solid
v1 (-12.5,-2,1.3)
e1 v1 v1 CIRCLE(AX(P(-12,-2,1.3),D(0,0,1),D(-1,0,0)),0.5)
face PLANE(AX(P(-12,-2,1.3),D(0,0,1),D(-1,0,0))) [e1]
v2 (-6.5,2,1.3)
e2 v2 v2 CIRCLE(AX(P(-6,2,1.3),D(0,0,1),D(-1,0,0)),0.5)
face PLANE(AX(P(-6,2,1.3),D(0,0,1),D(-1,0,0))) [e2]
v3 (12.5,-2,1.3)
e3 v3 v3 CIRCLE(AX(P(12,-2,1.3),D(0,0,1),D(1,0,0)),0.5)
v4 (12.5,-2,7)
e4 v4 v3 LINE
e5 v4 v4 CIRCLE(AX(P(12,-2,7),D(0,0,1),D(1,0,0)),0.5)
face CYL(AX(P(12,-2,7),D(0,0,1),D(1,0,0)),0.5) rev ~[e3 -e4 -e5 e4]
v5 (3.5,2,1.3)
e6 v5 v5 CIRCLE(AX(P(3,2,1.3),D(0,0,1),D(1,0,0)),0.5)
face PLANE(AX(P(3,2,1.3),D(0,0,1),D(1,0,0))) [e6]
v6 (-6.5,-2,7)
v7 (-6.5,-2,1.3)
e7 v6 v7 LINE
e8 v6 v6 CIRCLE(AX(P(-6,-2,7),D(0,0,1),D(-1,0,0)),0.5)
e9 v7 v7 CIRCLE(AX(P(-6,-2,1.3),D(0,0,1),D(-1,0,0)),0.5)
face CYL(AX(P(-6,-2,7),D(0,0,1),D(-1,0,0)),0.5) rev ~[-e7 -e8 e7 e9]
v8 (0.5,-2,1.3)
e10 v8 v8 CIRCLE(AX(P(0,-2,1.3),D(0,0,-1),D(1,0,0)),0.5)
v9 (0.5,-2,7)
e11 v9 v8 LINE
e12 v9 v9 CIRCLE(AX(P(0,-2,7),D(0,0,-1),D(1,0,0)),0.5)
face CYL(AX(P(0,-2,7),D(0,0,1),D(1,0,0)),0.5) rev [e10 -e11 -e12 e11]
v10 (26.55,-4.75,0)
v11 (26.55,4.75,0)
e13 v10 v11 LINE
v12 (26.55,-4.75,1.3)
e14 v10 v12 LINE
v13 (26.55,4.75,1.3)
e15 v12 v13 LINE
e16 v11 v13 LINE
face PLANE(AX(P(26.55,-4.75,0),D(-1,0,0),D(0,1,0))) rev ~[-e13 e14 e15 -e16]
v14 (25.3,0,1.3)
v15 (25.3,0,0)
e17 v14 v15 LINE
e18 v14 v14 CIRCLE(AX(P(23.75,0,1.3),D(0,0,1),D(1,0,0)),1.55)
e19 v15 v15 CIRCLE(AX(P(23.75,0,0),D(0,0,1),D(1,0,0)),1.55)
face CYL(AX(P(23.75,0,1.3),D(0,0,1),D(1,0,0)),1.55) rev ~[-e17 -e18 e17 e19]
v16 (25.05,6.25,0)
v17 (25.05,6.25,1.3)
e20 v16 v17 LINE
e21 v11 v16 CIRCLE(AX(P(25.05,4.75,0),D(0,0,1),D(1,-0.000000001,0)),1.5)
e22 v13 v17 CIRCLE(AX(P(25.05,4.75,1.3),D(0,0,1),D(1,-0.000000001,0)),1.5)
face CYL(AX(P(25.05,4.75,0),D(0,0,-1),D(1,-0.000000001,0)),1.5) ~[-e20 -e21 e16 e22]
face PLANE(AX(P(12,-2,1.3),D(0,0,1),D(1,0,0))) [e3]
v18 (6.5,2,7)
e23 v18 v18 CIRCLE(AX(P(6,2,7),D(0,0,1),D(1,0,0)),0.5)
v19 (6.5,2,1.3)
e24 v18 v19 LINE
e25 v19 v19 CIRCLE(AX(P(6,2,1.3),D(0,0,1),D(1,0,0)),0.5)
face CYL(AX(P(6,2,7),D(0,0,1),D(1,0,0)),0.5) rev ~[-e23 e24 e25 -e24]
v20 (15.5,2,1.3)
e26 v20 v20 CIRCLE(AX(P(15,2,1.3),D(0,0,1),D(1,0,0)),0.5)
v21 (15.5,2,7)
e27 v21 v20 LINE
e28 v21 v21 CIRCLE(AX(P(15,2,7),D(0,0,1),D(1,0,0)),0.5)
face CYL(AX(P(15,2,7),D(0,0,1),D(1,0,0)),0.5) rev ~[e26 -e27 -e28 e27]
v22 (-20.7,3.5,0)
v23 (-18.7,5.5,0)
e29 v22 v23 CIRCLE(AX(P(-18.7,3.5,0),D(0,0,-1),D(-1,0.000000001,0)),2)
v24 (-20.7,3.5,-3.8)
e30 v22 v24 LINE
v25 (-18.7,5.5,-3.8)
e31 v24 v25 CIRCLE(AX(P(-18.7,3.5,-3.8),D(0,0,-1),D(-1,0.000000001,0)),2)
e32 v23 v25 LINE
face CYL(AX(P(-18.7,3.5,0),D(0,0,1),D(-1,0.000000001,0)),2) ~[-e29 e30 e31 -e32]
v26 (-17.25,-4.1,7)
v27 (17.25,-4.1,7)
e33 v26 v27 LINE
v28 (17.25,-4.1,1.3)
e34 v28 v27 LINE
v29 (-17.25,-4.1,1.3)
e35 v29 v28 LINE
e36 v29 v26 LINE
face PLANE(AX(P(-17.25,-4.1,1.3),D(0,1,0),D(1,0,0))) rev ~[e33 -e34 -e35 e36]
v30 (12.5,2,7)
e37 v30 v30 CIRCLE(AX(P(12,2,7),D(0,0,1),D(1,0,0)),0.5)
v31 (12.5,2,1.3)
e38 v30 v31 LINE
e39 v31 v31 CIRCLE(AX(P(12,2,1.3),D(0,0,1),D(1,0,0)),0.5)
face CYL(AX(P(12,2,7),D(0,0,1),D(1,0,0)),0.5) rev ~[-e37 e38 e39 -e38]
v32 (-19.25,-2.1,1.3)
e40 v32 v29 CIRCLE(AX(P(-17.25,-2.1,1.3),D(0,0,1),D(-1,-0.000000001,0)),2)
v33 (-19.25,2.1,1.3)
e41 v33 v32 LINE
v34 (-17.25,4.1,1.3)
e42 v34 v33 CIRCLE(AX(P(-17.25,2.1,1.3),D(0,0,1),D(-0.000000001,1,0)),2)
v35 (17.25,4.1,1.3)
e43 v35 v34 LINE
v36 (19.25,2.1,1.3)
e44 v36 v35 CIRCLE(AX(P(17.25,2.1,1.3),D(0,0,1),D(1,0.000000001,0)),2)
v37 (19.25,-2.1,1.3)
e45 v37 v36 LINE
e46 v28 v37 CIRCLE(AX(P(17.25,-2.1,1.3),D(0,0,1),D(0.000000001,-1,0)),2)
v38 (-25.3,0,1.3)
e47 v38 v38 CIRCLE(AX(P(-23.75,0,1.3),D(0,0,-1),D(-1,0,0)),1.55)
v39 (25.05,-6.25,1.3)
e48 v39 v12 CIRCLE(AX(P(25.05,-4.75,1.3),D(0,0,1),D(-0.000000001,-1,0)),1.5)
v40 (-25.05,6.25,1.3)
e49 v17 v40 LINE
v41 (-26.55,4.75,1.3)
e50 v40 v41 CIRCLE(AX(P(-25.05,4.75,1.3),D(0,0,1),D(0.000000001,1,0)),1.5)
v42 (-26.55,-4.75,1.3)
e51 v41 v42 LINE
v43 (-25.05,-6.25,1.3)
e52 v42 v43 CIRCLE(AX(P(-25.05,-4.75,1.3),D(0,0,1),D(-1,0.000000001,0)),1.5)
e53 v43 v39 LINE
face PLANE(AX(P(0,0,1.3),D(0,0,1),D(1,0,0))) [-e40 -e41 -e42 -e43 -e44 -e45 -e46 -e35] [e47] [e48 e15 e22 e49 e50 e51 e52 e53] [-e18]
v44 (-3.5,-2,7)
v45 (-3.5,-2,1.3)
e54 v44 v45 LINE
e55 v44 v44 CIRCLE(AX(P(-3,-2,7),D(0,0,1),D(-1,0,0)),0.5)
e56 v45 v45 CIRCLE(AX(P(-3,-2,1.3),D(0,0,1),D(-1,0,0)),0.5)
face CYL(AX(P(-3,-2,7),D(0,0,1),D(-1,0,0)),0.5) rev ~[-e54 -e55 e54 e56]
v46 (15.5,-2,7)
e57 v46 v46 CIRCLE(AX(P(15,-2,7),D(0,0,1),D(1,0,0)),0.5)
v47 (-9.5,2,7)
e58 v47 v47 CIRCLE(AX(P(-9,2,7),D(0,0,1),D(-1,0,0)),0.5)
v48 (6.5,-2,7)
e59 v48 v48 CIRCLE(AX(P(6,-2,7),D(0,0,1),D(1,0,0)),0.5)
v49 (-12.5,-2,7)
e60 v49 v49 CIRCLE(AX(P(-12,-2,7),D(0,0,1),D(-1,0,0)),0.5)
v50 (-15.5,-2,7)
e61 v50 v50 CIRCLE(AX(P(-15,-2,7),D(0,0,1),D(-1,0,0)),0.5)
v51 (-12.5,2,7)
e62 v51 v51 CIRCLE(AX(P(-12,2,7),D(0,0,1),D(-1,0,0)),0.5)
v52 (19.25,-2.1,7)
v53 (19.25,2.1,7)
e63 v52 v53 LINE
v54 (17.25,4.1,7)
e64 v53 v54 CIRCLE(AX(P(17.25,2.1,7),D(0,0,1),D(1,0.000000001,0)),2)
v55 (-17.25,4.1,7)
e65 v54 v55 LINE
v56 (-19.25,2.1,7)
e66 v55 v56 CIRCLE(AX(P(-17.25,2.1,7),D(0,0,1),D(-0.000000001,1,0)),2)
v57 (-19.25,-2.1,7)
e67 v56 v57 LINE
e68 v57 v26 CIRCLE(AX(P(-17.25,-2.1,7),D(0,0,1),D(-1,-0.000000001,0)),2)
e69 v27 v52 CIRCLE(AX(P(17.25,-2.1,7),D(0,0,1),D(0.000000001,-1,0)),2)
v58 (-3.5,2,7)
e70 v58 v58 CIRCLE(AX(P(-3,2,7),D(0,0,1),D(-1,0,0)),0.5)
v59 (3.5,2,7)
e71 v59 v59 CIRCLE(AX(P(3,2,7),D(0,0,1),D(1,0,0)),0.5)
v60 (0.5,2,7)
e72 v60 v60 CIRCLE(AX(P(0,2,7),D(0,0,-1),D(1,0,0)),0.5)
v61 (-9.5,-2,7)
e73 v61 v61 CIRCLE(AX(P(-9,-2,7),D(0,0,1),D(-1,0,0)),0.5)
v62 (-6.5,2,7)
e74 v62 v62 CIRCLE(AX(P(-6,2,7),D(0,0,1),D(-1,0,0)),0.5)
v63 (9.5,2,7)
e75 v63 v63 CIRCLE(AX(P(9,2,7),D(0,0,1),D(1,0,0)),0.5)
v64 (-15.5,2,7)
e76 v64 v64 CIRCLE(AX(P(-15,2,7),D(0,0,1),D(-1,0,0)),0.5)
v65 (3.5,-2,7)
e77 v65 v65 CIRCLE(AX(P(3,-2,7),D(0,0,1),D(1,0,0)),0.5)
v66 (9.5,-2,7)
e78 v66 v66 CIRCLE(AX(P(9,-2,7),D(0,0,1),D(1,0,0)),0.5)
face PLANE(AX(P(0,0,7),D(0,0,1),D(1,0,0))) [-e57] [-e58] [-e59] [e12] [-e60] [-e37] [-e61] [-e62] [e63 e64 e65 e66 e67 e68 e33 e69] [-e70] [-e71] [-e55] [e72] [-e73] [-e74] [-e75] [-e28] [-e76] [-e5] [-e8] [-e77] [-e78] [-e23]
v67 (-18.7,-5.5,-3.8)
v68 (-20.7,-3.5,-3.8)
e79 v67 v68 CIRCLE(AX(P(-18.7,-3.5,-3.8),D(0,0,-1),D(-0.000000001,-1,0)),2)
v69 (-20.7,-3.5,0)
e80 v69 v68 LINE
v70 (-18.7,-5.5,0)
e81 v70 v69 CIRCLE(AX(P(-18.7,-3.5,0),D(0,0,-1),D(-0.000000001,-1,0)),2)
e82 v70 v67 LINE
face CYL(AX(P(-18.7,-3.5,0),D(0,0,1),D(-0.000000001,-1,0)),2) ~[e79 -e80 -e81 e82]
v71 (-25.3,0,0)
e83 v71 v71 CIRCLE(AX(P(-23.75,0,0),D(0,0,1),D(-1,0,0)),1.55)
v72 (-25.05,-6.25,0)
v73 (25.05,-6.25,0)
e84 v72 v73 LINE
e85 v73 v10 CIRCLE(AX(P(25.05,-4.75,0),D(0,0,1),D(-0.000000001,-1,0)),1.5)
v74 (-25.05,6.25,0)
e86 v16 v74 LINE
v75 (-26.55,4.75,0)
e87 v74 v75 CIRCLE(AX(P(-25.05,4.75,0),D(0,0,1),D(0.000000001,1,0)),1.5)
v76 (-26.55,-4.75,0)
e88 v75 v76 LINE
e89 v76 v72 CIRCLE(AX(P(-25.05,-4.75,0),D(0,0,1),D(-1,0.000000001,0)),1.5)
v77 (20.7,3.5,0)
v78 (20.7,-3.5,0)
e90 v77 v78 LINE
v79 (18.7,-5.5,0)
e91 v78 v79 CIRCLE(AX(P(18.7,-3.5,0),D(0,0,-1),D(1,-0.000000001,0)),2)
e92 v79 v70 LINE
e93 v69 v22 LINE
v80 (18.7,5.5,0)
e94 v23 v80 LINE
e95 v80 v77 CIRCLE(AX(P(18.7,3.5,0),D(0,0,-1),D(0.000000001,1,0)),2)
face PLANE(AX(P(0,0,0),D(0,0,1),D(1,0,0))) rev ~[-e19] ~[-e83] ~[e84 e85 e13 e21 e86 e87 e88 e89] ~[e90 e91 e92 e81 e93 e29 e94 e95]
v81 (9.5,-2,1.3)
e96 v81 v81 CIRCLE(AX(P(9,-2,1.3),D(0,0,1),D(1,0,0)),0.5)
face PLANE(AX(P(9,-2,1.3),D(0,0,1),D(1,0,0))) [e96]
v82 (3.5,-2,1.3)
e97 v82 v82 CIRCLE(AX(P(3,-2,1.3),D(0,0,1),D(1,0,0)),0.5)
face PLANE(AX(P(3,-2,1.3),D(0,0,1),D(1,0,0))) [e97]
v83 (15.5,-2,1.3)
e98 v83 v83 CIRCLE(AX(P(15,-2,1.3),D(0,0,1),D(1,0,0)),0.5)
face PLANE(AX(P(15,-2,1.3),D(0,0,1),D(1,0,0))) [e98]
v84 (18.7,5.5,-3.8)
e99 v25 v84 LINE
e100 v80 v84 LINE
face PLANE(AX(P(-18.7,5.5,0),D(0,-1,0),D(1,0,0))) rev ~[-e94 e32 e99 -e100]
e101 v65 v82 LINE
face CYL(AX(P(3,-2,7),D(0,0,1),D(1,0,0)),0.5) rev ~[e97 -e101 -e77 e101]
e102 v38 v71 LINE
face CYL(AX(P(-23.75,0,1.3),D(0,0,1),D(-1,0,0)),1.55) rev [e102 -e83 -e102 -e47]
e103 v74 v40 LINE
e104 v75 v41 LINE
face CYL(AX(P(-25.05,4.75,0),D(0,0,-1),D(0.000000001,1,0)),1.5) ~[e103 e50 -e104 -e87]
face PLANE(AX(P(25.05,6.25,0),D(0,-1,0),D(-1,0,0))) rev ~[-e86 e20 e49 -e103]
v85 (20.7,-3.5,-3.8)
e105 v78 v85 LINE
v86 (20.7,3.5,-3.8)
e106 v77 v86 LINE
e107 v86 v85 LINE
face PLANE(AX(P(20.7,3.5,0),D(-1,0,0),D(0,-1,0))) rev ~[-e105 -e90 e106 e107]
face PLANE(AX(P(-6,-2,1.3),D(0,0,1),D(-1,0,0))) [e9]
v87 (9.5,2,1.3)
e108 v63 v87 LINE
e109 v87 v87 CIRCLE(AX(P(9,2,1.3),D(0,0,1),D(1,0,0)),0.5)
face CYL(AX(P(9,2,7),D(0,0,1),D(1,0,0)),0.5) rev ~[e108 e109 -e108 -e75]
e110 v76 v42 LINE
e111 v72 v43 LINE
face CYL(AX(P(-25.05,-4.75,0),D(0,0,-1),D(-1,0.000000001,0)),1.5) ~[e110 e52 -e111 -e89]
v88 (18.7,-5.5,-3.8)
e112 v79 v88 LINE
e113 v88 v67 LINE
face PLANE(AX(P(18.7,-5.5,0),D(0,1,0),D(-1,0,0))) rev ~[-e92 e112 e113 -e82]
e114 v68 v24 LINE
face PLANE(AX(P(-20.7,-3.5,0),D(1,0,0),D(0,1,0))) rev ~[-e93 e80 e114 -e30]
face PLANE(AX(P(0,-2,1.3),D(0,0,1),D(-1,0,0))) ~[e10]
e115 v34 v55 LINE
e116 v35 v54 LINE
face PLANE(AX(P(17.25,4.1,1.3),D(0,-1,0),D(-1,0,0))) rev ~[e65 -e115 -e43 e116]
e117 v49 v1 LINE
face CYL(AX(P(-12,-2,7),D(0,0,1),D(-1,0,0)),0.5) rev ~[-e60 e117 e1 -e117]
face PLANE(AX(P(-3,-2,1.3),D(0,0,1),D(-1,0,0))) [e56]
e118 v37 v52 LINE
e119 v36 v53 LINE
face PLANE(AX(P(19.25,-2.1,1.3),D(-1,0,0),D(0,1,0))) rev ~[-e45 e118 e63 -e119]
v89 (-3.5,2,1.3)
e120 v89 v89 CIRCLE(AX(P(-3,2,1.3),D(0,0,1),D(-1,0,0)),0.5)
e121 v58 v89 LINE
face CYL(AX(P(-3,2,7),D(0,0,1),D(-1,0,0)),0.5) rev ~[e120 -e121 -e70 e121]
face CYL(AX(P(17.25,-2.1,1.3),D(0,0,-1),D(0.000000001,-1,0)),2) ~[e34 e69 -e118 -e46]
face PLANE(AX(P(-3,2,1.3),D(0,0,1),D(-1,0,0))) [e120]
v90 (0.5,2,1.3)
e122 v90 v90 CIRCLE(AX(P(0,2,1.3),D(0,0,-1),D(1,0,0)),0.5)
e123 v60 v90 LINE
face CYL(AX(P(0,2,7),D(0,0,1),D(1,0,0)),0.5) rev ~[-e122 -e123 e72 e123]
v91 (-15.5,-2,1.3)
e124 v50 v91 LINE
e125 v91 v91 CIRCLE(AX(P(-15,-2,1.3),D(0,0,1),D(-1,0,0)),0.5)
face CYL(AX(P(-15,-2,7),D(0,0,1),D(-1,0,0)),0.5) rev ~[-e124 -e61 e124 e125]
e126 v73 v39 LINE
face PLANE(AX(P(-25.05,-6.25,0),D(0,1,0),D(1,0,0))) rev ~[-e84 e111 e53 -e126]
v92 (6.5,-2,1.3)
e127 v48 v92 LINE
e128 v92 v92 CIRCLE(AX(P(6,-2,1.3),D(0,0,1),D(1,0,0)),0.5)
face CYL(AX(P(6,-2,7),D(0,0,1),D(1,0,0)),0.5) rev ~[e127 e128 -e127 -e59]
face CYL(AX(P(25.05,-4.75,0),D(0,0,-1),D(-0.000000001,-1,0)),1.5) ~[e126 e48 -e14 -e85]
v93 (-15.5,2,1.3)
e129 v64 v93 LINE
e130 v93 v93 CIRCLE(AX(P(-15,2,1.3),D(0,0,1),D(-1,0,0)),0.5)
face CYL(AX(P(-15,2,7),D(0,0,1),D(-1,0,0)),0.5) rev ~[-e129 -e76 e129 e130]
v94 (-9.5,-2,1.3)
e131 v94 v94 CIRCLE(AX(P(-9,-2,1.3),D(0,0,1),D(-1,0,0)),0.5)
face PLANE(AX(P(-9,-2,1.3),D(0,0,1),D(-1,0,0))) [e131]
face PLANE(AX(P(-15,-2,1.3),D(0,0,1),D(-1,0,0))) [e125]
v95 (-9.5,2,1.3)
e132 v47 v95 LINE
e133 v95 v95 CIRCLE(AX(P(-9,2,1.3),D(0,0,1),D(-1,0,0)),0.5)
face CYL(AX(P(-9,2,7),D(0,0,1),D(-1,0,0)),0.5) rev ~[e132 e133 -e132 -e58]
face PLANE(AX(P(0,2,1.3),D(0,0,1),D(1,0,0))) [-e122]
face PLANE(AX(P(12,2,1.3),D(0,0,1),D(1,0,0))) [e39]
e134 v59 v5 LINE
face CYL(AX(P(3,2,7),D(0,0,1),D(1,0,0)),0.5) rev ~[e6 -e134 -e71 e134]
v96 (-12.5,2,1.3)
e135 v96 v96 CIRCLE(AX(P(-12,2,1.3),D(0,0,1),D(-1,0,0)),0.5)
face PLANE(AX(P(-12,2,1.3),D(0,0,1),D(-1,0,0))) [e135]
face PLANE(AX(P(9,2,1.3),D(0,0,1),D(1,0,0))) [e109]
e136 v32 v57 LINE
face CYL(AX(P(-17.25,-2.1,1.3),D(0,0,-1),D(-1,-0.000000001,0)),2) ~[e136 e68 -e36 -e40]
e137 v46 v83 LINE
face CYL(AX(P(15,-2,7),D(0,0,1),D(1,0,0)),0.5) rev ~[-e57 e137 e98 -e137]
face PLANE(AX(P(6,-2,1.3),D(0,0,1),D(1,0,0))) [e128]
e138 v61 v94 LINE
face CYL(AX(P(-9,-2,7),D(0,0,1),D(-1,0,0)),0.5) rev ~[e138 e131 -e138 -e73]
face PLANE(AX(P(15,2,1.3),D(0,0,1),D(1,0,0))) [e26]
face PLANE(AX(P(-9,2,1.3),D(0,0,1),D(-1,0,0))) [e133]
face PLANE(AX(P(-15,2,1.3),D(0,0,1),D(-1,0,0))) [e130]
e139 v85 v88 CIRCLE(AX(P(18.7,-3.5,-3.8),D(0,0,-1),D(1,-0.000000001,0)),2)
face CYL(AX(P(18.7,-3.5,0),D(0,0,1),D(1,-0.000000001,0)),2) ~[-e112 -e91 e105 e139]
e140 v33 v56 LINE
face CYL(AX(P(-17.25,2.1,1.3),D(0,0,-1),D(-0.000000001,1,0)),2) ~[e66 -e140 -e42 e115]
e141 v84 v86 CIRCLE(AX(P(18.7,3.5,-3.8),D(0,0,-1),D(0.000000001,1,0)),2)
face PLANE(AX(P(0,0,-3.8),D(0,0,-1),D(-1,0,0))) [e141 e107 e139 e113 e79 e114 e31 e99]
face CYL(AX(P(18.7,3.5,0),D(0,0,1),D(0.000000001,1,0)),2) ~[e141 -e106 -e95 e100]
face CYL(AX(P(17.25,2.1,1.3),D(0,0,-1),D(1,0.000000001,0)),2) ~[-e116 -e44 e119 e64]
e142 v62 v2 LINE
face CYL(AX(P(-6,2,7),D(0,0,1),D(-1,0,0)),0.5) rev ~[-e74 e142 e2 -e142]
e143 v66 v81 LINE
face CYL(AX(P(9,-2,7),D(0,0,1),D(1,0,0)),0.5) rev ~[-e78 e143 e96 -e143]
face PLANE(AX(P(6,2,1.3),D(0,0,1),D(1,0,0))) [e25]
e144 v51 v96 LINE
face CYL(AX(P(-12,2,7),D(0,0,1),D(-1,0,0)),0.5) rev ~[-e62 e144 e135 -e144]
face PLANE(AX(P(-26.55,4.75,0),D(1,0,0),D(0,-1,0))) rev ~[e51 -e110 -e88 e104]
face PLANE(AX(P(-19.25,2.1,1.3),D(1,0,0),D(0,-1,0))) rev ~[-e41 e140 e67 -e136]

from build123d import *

# Parameters (mm, degrees)
BOSS_EXTRUDE1_DEPTH      = 1.3
BOSS_EXTRUDE2_DEPTH      = 3.8
BOSS_EXTRUDE3_DEPTH      = 5.7
SKETCH4_R                = 0.5
CUT_EXTRUDE1_DEPTH       = 5.7
LPATTERN1_COUNT          = 6
LPATTERN1_PITCH          = 3
MIRROR1_COPY_1_SKETCH_R  = 0.5
MIRROR1_COPY_1_DEPTH     = 5.7
MIRROR1_COPY_2_SKETCH_R  = 0.5
MIRROR1_COPY_2_DEPTH     = 5.7
MIRROR1_COPY_3_SKETCH_R  = 0.5
MIRROR1_COPY_3_DEPTH     = 5.7
MIRROR1_COPY_4_SKETCH_R  = 0.5
MIRROR1_COPY_4_DEPTH     = 5.7
MIRROR1_COPY_5_SKETCH_R  = 0.5
MIRROR1_COPY_5_DEPTH     = 5.7
MIRROR2_COPY_1_SKETCH_R  = 0.5
MIRROR2_COPY_1_DEPTH     = 5.7
MIRROR2_COPY_2_SKETCH_R  = 0.5
MIRROR2_COPY_2_DEPTH     = 5.7
MIRROR2_COPY_3_SKETCH_R  = 0.5
MIRROR2_COPY_3_DEPTH     = 5.7
MIRROR2_COPY_4_SKETCH_R  = 0.5
MIRROR2_COPY_4_DEPTH     = 5.7
MIRROR2_COPY_5_SKETCH_R  = 0.5
MIRROR2_COPY_5_DEPTH     = 5.7
MIRROR2_COPY_6_SKETCH_R  = 0.5
MIRROR2_COPY_6_DEPTH     = 5.7
MIRROR2_COPY_7_SKETCH_R  = 0.5
MIRROR2_COPY_7_DEPTH     = 5.7
MIRROR2_COPY_8_SKETCH_R  = 0.5
MIRROR2_COPY_8_DEPTH     = 5.7
MIRROR2_COPY_9_SKETCH_R  = 0.5
MIRROR2_COPY_9_DEPTH     = 5.7
MIRROR2_COPY_10_SKETCH_R = 0.5
MIRROR2_COPY_10_DEPTH    = 5.7
MIRROR2_COPY_11_SKETCH_R = 0.5
MIRROR2_COPY_11_DEPTH    = 5.7
MIRROR2_COPY_12_SKETCH_R = 0.5
MIRROR2_COPY_12_DEPTH    = 5.7
MIRROR2_COPY_13_SKETCH_R = 0.5
MIRROR2_COPY_13_DEPTH    = 5.7
SKETCH5_R                = 1.55
CUT_EXTRUDE2_DEPTH       = 28.864942132


with BuildPart() as part:
    # Sketch1 → Boss-Extrude1 (new body)
    with BuildSketch(Plane.XY):
        with BuildLine():
            Line((-25.05, -6.25), (25.05, -6.25))
            ThreePointArc((25.05, -6.25), (26.110660172, -5.810660172), (26.55, -4.75))
            Line((26.55, -4.75), (26.55, 4.75))
            ThreePointArc((26.55, 4.75), (26.110660172, 5.810660172), (25.05, 6.25))
            Line((25.05, 6.25), (-25.05, 6.25))
            ThreePointArc((-25.05, 6.25), (-26.110660172, 5.810660172), (-26.55, 4.75))
            Line((-26.55, 4.75), (-26.55, -4.75))
            ThreePointArc((-26.55, -4.75), (-26.110660172, -5.810660172), (-25.05, -6.25))
        make_face()
    extrude(amount=BOSS_EXTRUDE1_DEPTH)

    # Sketch2 → Boss-Extrude2 (add)
    with BuildSketch(Plane(origin=(0, 0, 0), x_dir=(-1, 0, 0), z_dir=(0, 0, -1))):
        with BuildLine():
            Line((-18.7, -5.5), (18.7, -5.5))
            ThreePointArc((18.7, -5.5), (20.114213562, -4.914213562), (20.7, -3.5))
            Line((20.7, -3.5), (20.7, 3.5))
            ThreePointArc((20.7, 3.5), (20.114213562, 4.914213562), (18.7, 5.5))
            Line((18.7, 5.5), (-18.7, 5.5))
            ThreePointArc((-18.7, 5.5), (-20.114213562, 4.914213562), (-20.7, 3.5))
            Line((-20.7, 3.5), (-20.7, -3.5))
            ThreePointArc((-20.7, -3.5), (-20.114213562, -4.914213562), (-18.7, -5.5))
        make_face()
    extrude(amount=BOSS_EXTRUDE2_DEPTH)

    # Sketch3 → Boss-Extrude3 (add)
    with BuildSketch(Plane.XY.offset(1.3)):
        with BuildLine():
            Line((-17.25, -4.1), (17.25, -4.1))
            ThreePointArc((17.25, -4.1), (18.664213562, -3.514213562), (19.25, -2.1))
            Line((19.25, -2.1), (19.25, 2.1))
            ThreePointArc((19.25, 2.1), (18.664213562, 3.514213562), (17.25, 4.1))
            Line((17.25, 4.1), (-17.25, 4.1))
            ThreePointArc((-17.25, 4.1), (-18.664213562, 3.514213562), (-19.25, 2.1))
            Line((-19.25, 2.1), (-19.25, -2.1))
            ThreePointArc((-19.25, -2.1), (-18.664213562, -3.514213562), (-17.25, -4.1))
        make_face()
    extrude(amount=BOSS_EXTRUDE3_DEPTH)

    # Sketch4 → Cut-Extrude1 (cut)
    with BuildSketch(Plane.XY.offset(7)):
        with Locations((0, 2)):
            Circle(SKETCH4_R)
    cut_extrude1 = extrude(amount=-CUT_EXTRUDE1_DEPTH, mode=Mode.SUBTRACT)

    # LPattern1: Cut-Extrude1 ×6
    with Locations(*[(i * LPATTERN1_PITCH, 0, 0) for i in range(1, LPATTERN1_COUNT)]):
        add(cut_extrude1, mode=Mode.SUBTRACT)

    # Mirror1: Cut-Extrude1 across plane
    add(cut_extrude1.mirror(Plane.ZX), mode=Mode.SUBTRACT)

    # Mirror1 copy 1 sketch → Mirror1 copy 1 (cut)
    with BuildSketch(Plane(origin=(3, 0, 7), x_dir=(1, 0, 0), z_dir=(0, 0, 1))):
        with Locations((0, -2)):
            Circle(MIRROR1_COPY_1_SKETCH_R)
    extrude(amount=-MIRROR1_COPY_1_DEPTH, mode=Mode.SUBTRACT)

    # Mirror1 copy 2 sketch → Mirror1 copy 2 (cut)
    with BuildSketch(Plane(origin=(6, 0, 7), x_dir=(1, 0, 0), z_dir=(0, 0, 1))):
        with Locations((0, -2)):
            Circle(MIRROR1_COPY_2_SKETCH_R)
    extrude(amount=-MIRROR1_COPY_2_DEPTH, mode=Mode.SUBTRACT)

    # Mirror1 copy 3 sketch → Mirror1 copy 3 (cut)
    with BuildSketch(Plane(origin=(9, 0, 7), x_dir=(1, 0, 0), z_dir=(0, 0, 1))):
        with Locations((0, -2)):
            Circle(MIRROR1_COPY_3_SKETCH_R)
    extrude(amount=-MIRROR1_COPY_3_DEPTH, mode=Mode.SUBTRACT)

    # Mirror1 copy 4 sketch → Mirror1 copy 4 (cut)
    with BuildSketch(Plane(origin=(12, 0, 7), x_dir=(1, 0, 0), z_dir=(0, 0, 1))):
        with Locations((0, -2)):
            Circle(MIRROR1_COPY_4_SKETCH_R)
    extrude(amount=-MIRROR1_COPY_4_DEPTH, mode=Mode.SUBTRACT)

    # Mirror1 copy 5 sketch → Mirror1 copy 5 (cut)
    with BuildSketch(Plane(origin=(15, 0, 7), x_dir=(1, 0, 0), z_dir=(0, 0, 1))):
        with Locations((0, -2)):
            Circle(MIRROR1_COPY_5_SKETCH_R)
    extrude(amount=-MIRROR1_COPY_5_DEPTH, mode=Mode.SUBTRACT)

    # Mirror2 copy 1 sketch → Mirror2 copy 1 (cut)
    with BuildSketch(Plane(origin=(-3, 0, 7), x_dir=(-1, 0, 0), z_dir=(0, 0, 1))):
        with Locations((0, -2)):
            Circle(MIRROR2_COPY_1_SKETCH_R)
    extrude(amount=-MIRROR2_COPY_1_DEPTH, mode=Mode.SUBTRACT)

    # Mirror2 copy 2 sketch → Mirror2 copy 2 (cut)
    with BuildSketch(Plane(origin=(-6, 0, 7), x_dir=(-1, 0, 0), z_dir=(0, 0, 1))):
        with Locations((0, -2)):
            Circle(MIRROR2_COPY_2_SKETCH_R)
    extrude(amount=-MIRROR2_COPY_2_DEPTH, mode=Mode.SUBTRACT)

    # Mirror2 copy 3 sketch → Mirror2 copy 3 (cut)
    with BuildSketch(Plane(origin=(-9, 0, 7), x_dir=(-1, 0, 0), z_dir=(0, 0, 1))):
        with Locations((0, -2)):
            Circle(MIRROR2_COPY_3_SKETCH_R)
    extrude(amount=-MIRROR2_COPY_3_DEPTH, mode=Mode.SUBTRACT)

    # Mirror2 copy 4 sketch → Mirror2 copy 4 (cut)
    with BuildSketch(Plane(origin=(-12, 0, 7), x_dir=(-1, 0, 0), z_dir=(0, 0, 1))):
        with Locations((0, -2)):
            Circle(MIRROR2_COPY_4_SKETCH_R)
    extrude(amount=-MIRROR2_COPY_4_DEPTH, mode=Mode.SUBTRACT)

    # Mirror2 copy 5 sketch → Mirror2 copy 5 (cut)
    with BuildSketch(Plane(origin=(-15, 0, 7), x_dir=(-1, 0, 0), z_dir=(0, 0, 1))):
        with Locations((0, -2)):
            Circle(MIRROR2_COPY_5_SKETCH_R)
    extrude(amount=-MIRROR2_COPY_5_DEPTH, mode=Mode.SUBTRACT)

    # Mirror2 copy 6 sketch → Mirror2 copy 6 (cut)
    with BuildSketch(Plane(origin=(0, 0, 7), x_dir=(-1, 0, 0), z_dir=(0, 0, 1))):
        with Locations((0, -2)):
            Circle(MIRROR2_COPY_6_SKETCH_R)
    extrude(amount=-MIRROR2_COPY_6_DEPTH, mode=Mode.SUBTRACT)

    # Mirror2 copy 7 sketch → Mirror2 copy 7 (cut)
    with BuildSketch(Plane(origin=(0, 0, 7), x_dir=(-1, 0, 0), z_dir=(0, 0, 1))):
        with Locations((0, 2)):
            Circle(MIRROR2_COPY_7_SKETCH_R)
    extrude(amount=-MIRROR2_COPY_7_DEPTH, mode=Mode.SUBTRACT)

    # Mirror2 copy 8 sketch → Mirror2 copy 8 (cut)
    with BuildSketch(Plane(origin=(-3, 0, 7), x_dir=(-1, 0, 0), z_dir=(0, 0, 1))):
        with Locations((0, 2)):
            Circle(MIRROR2_COPY_8_SKETCH_R)
    extrude(amount=-MIRROR2_COPY_8_DEPTH, mode=Mode.SUBTRACT)

    # Mirror2 copy 9 sketch → Mirror2 copy 9 (cut)
    with BuildSketch(Plane(origin=(-6, 0, 7), x_dir=(-1, 0, 0), z_dir=(0, 0, 1))):
        with Locations((0, 2)):
            Circle(MIRROR2_COPY_9_SKETCH_R)
    extrude(amount=-MIRROR2_COPY_9_DEPTH, mode=Mode.SUBTRACT)

    # Mirror2 copy 10 sketch → Mirror2 copy 10 (cut)
    with BuildSketch(Plane(origin=(-9, 0, 7), x_dir=(-1, 0, 0), z_dir=(0, 0, 1))):
        with Locations((0, 2)):
            Circle(MIRROR2_COPY_10_SKETCH_R)
    extrude(amount=-MIRROR2_COPY_10_DEPTH, mode=Mode.SUBTRACT)

    # Mirror2 copy 11 sketch → Mirror2 copy 11 (cut)
    with BuildSketch(Plane(origin=(-12, 0, 7), x_dir=(-1, 0, 0), z_dir=(0, 0, 1))):
        with Locations((0, 2)):
            Circle(MIRROR2_COPY_11_SKETCH_R)
    extrude(amount=-MIRROR2_COPY_11_DEPTH, mode=Mode.SUBTRACT)

    # Mirror2 copy 12 sketch → Mirror2 copy 12 (cut)
    with BuildSketch(Plane(origin=(-15, 0, 7), x_dir=(-1, 0, 0), z_dir=(0, 0, 1))):
        with Locations((0, 2)):
            Circle(MIRROR2_COPY_12_SKETCH_R)
    extrude(amount=-MIRROR2_COPY_12_DEPTH, mode=Mode.SUBTRACT)

    # Mirror2 copy 13 sketch → Mirror2 copy 13 (cut)
    with BuildSketch(Plane(origin=(0, 0, 7), x_dir=(-1, 0, 0), z_dir=(0, 0, 1))):
        with Locations((0, -2)):
            Circle(MIRROR2_COPY_13_SKETCH_R)
    extrude(amount=-MIRROR2_COPY_13_DEPTH, mode=Mode.SUBTRACT)

    # Sketch5 → Cut-Extrude2 (cut, through all)
    with BuildSketch(Plane.XY.offset(1.3)):
        with Locations((23.75, 0)):
            Circle(SKETCH5_R)
    cut_extrude2 = extrude(amount=-CUT_EXTRUDE2_DEPTH, mode=Mode.SUBTRACT)

    # Mirror3: Cut-Extrude2 across plane
    add(cut_extrude2.mirror(Plane(origin=(0, 0, 0), x_dir=(0, 0, 1), z_dir=(1, 0, 0))), mode=Mode.SUBTRACT)


solid = part.part
